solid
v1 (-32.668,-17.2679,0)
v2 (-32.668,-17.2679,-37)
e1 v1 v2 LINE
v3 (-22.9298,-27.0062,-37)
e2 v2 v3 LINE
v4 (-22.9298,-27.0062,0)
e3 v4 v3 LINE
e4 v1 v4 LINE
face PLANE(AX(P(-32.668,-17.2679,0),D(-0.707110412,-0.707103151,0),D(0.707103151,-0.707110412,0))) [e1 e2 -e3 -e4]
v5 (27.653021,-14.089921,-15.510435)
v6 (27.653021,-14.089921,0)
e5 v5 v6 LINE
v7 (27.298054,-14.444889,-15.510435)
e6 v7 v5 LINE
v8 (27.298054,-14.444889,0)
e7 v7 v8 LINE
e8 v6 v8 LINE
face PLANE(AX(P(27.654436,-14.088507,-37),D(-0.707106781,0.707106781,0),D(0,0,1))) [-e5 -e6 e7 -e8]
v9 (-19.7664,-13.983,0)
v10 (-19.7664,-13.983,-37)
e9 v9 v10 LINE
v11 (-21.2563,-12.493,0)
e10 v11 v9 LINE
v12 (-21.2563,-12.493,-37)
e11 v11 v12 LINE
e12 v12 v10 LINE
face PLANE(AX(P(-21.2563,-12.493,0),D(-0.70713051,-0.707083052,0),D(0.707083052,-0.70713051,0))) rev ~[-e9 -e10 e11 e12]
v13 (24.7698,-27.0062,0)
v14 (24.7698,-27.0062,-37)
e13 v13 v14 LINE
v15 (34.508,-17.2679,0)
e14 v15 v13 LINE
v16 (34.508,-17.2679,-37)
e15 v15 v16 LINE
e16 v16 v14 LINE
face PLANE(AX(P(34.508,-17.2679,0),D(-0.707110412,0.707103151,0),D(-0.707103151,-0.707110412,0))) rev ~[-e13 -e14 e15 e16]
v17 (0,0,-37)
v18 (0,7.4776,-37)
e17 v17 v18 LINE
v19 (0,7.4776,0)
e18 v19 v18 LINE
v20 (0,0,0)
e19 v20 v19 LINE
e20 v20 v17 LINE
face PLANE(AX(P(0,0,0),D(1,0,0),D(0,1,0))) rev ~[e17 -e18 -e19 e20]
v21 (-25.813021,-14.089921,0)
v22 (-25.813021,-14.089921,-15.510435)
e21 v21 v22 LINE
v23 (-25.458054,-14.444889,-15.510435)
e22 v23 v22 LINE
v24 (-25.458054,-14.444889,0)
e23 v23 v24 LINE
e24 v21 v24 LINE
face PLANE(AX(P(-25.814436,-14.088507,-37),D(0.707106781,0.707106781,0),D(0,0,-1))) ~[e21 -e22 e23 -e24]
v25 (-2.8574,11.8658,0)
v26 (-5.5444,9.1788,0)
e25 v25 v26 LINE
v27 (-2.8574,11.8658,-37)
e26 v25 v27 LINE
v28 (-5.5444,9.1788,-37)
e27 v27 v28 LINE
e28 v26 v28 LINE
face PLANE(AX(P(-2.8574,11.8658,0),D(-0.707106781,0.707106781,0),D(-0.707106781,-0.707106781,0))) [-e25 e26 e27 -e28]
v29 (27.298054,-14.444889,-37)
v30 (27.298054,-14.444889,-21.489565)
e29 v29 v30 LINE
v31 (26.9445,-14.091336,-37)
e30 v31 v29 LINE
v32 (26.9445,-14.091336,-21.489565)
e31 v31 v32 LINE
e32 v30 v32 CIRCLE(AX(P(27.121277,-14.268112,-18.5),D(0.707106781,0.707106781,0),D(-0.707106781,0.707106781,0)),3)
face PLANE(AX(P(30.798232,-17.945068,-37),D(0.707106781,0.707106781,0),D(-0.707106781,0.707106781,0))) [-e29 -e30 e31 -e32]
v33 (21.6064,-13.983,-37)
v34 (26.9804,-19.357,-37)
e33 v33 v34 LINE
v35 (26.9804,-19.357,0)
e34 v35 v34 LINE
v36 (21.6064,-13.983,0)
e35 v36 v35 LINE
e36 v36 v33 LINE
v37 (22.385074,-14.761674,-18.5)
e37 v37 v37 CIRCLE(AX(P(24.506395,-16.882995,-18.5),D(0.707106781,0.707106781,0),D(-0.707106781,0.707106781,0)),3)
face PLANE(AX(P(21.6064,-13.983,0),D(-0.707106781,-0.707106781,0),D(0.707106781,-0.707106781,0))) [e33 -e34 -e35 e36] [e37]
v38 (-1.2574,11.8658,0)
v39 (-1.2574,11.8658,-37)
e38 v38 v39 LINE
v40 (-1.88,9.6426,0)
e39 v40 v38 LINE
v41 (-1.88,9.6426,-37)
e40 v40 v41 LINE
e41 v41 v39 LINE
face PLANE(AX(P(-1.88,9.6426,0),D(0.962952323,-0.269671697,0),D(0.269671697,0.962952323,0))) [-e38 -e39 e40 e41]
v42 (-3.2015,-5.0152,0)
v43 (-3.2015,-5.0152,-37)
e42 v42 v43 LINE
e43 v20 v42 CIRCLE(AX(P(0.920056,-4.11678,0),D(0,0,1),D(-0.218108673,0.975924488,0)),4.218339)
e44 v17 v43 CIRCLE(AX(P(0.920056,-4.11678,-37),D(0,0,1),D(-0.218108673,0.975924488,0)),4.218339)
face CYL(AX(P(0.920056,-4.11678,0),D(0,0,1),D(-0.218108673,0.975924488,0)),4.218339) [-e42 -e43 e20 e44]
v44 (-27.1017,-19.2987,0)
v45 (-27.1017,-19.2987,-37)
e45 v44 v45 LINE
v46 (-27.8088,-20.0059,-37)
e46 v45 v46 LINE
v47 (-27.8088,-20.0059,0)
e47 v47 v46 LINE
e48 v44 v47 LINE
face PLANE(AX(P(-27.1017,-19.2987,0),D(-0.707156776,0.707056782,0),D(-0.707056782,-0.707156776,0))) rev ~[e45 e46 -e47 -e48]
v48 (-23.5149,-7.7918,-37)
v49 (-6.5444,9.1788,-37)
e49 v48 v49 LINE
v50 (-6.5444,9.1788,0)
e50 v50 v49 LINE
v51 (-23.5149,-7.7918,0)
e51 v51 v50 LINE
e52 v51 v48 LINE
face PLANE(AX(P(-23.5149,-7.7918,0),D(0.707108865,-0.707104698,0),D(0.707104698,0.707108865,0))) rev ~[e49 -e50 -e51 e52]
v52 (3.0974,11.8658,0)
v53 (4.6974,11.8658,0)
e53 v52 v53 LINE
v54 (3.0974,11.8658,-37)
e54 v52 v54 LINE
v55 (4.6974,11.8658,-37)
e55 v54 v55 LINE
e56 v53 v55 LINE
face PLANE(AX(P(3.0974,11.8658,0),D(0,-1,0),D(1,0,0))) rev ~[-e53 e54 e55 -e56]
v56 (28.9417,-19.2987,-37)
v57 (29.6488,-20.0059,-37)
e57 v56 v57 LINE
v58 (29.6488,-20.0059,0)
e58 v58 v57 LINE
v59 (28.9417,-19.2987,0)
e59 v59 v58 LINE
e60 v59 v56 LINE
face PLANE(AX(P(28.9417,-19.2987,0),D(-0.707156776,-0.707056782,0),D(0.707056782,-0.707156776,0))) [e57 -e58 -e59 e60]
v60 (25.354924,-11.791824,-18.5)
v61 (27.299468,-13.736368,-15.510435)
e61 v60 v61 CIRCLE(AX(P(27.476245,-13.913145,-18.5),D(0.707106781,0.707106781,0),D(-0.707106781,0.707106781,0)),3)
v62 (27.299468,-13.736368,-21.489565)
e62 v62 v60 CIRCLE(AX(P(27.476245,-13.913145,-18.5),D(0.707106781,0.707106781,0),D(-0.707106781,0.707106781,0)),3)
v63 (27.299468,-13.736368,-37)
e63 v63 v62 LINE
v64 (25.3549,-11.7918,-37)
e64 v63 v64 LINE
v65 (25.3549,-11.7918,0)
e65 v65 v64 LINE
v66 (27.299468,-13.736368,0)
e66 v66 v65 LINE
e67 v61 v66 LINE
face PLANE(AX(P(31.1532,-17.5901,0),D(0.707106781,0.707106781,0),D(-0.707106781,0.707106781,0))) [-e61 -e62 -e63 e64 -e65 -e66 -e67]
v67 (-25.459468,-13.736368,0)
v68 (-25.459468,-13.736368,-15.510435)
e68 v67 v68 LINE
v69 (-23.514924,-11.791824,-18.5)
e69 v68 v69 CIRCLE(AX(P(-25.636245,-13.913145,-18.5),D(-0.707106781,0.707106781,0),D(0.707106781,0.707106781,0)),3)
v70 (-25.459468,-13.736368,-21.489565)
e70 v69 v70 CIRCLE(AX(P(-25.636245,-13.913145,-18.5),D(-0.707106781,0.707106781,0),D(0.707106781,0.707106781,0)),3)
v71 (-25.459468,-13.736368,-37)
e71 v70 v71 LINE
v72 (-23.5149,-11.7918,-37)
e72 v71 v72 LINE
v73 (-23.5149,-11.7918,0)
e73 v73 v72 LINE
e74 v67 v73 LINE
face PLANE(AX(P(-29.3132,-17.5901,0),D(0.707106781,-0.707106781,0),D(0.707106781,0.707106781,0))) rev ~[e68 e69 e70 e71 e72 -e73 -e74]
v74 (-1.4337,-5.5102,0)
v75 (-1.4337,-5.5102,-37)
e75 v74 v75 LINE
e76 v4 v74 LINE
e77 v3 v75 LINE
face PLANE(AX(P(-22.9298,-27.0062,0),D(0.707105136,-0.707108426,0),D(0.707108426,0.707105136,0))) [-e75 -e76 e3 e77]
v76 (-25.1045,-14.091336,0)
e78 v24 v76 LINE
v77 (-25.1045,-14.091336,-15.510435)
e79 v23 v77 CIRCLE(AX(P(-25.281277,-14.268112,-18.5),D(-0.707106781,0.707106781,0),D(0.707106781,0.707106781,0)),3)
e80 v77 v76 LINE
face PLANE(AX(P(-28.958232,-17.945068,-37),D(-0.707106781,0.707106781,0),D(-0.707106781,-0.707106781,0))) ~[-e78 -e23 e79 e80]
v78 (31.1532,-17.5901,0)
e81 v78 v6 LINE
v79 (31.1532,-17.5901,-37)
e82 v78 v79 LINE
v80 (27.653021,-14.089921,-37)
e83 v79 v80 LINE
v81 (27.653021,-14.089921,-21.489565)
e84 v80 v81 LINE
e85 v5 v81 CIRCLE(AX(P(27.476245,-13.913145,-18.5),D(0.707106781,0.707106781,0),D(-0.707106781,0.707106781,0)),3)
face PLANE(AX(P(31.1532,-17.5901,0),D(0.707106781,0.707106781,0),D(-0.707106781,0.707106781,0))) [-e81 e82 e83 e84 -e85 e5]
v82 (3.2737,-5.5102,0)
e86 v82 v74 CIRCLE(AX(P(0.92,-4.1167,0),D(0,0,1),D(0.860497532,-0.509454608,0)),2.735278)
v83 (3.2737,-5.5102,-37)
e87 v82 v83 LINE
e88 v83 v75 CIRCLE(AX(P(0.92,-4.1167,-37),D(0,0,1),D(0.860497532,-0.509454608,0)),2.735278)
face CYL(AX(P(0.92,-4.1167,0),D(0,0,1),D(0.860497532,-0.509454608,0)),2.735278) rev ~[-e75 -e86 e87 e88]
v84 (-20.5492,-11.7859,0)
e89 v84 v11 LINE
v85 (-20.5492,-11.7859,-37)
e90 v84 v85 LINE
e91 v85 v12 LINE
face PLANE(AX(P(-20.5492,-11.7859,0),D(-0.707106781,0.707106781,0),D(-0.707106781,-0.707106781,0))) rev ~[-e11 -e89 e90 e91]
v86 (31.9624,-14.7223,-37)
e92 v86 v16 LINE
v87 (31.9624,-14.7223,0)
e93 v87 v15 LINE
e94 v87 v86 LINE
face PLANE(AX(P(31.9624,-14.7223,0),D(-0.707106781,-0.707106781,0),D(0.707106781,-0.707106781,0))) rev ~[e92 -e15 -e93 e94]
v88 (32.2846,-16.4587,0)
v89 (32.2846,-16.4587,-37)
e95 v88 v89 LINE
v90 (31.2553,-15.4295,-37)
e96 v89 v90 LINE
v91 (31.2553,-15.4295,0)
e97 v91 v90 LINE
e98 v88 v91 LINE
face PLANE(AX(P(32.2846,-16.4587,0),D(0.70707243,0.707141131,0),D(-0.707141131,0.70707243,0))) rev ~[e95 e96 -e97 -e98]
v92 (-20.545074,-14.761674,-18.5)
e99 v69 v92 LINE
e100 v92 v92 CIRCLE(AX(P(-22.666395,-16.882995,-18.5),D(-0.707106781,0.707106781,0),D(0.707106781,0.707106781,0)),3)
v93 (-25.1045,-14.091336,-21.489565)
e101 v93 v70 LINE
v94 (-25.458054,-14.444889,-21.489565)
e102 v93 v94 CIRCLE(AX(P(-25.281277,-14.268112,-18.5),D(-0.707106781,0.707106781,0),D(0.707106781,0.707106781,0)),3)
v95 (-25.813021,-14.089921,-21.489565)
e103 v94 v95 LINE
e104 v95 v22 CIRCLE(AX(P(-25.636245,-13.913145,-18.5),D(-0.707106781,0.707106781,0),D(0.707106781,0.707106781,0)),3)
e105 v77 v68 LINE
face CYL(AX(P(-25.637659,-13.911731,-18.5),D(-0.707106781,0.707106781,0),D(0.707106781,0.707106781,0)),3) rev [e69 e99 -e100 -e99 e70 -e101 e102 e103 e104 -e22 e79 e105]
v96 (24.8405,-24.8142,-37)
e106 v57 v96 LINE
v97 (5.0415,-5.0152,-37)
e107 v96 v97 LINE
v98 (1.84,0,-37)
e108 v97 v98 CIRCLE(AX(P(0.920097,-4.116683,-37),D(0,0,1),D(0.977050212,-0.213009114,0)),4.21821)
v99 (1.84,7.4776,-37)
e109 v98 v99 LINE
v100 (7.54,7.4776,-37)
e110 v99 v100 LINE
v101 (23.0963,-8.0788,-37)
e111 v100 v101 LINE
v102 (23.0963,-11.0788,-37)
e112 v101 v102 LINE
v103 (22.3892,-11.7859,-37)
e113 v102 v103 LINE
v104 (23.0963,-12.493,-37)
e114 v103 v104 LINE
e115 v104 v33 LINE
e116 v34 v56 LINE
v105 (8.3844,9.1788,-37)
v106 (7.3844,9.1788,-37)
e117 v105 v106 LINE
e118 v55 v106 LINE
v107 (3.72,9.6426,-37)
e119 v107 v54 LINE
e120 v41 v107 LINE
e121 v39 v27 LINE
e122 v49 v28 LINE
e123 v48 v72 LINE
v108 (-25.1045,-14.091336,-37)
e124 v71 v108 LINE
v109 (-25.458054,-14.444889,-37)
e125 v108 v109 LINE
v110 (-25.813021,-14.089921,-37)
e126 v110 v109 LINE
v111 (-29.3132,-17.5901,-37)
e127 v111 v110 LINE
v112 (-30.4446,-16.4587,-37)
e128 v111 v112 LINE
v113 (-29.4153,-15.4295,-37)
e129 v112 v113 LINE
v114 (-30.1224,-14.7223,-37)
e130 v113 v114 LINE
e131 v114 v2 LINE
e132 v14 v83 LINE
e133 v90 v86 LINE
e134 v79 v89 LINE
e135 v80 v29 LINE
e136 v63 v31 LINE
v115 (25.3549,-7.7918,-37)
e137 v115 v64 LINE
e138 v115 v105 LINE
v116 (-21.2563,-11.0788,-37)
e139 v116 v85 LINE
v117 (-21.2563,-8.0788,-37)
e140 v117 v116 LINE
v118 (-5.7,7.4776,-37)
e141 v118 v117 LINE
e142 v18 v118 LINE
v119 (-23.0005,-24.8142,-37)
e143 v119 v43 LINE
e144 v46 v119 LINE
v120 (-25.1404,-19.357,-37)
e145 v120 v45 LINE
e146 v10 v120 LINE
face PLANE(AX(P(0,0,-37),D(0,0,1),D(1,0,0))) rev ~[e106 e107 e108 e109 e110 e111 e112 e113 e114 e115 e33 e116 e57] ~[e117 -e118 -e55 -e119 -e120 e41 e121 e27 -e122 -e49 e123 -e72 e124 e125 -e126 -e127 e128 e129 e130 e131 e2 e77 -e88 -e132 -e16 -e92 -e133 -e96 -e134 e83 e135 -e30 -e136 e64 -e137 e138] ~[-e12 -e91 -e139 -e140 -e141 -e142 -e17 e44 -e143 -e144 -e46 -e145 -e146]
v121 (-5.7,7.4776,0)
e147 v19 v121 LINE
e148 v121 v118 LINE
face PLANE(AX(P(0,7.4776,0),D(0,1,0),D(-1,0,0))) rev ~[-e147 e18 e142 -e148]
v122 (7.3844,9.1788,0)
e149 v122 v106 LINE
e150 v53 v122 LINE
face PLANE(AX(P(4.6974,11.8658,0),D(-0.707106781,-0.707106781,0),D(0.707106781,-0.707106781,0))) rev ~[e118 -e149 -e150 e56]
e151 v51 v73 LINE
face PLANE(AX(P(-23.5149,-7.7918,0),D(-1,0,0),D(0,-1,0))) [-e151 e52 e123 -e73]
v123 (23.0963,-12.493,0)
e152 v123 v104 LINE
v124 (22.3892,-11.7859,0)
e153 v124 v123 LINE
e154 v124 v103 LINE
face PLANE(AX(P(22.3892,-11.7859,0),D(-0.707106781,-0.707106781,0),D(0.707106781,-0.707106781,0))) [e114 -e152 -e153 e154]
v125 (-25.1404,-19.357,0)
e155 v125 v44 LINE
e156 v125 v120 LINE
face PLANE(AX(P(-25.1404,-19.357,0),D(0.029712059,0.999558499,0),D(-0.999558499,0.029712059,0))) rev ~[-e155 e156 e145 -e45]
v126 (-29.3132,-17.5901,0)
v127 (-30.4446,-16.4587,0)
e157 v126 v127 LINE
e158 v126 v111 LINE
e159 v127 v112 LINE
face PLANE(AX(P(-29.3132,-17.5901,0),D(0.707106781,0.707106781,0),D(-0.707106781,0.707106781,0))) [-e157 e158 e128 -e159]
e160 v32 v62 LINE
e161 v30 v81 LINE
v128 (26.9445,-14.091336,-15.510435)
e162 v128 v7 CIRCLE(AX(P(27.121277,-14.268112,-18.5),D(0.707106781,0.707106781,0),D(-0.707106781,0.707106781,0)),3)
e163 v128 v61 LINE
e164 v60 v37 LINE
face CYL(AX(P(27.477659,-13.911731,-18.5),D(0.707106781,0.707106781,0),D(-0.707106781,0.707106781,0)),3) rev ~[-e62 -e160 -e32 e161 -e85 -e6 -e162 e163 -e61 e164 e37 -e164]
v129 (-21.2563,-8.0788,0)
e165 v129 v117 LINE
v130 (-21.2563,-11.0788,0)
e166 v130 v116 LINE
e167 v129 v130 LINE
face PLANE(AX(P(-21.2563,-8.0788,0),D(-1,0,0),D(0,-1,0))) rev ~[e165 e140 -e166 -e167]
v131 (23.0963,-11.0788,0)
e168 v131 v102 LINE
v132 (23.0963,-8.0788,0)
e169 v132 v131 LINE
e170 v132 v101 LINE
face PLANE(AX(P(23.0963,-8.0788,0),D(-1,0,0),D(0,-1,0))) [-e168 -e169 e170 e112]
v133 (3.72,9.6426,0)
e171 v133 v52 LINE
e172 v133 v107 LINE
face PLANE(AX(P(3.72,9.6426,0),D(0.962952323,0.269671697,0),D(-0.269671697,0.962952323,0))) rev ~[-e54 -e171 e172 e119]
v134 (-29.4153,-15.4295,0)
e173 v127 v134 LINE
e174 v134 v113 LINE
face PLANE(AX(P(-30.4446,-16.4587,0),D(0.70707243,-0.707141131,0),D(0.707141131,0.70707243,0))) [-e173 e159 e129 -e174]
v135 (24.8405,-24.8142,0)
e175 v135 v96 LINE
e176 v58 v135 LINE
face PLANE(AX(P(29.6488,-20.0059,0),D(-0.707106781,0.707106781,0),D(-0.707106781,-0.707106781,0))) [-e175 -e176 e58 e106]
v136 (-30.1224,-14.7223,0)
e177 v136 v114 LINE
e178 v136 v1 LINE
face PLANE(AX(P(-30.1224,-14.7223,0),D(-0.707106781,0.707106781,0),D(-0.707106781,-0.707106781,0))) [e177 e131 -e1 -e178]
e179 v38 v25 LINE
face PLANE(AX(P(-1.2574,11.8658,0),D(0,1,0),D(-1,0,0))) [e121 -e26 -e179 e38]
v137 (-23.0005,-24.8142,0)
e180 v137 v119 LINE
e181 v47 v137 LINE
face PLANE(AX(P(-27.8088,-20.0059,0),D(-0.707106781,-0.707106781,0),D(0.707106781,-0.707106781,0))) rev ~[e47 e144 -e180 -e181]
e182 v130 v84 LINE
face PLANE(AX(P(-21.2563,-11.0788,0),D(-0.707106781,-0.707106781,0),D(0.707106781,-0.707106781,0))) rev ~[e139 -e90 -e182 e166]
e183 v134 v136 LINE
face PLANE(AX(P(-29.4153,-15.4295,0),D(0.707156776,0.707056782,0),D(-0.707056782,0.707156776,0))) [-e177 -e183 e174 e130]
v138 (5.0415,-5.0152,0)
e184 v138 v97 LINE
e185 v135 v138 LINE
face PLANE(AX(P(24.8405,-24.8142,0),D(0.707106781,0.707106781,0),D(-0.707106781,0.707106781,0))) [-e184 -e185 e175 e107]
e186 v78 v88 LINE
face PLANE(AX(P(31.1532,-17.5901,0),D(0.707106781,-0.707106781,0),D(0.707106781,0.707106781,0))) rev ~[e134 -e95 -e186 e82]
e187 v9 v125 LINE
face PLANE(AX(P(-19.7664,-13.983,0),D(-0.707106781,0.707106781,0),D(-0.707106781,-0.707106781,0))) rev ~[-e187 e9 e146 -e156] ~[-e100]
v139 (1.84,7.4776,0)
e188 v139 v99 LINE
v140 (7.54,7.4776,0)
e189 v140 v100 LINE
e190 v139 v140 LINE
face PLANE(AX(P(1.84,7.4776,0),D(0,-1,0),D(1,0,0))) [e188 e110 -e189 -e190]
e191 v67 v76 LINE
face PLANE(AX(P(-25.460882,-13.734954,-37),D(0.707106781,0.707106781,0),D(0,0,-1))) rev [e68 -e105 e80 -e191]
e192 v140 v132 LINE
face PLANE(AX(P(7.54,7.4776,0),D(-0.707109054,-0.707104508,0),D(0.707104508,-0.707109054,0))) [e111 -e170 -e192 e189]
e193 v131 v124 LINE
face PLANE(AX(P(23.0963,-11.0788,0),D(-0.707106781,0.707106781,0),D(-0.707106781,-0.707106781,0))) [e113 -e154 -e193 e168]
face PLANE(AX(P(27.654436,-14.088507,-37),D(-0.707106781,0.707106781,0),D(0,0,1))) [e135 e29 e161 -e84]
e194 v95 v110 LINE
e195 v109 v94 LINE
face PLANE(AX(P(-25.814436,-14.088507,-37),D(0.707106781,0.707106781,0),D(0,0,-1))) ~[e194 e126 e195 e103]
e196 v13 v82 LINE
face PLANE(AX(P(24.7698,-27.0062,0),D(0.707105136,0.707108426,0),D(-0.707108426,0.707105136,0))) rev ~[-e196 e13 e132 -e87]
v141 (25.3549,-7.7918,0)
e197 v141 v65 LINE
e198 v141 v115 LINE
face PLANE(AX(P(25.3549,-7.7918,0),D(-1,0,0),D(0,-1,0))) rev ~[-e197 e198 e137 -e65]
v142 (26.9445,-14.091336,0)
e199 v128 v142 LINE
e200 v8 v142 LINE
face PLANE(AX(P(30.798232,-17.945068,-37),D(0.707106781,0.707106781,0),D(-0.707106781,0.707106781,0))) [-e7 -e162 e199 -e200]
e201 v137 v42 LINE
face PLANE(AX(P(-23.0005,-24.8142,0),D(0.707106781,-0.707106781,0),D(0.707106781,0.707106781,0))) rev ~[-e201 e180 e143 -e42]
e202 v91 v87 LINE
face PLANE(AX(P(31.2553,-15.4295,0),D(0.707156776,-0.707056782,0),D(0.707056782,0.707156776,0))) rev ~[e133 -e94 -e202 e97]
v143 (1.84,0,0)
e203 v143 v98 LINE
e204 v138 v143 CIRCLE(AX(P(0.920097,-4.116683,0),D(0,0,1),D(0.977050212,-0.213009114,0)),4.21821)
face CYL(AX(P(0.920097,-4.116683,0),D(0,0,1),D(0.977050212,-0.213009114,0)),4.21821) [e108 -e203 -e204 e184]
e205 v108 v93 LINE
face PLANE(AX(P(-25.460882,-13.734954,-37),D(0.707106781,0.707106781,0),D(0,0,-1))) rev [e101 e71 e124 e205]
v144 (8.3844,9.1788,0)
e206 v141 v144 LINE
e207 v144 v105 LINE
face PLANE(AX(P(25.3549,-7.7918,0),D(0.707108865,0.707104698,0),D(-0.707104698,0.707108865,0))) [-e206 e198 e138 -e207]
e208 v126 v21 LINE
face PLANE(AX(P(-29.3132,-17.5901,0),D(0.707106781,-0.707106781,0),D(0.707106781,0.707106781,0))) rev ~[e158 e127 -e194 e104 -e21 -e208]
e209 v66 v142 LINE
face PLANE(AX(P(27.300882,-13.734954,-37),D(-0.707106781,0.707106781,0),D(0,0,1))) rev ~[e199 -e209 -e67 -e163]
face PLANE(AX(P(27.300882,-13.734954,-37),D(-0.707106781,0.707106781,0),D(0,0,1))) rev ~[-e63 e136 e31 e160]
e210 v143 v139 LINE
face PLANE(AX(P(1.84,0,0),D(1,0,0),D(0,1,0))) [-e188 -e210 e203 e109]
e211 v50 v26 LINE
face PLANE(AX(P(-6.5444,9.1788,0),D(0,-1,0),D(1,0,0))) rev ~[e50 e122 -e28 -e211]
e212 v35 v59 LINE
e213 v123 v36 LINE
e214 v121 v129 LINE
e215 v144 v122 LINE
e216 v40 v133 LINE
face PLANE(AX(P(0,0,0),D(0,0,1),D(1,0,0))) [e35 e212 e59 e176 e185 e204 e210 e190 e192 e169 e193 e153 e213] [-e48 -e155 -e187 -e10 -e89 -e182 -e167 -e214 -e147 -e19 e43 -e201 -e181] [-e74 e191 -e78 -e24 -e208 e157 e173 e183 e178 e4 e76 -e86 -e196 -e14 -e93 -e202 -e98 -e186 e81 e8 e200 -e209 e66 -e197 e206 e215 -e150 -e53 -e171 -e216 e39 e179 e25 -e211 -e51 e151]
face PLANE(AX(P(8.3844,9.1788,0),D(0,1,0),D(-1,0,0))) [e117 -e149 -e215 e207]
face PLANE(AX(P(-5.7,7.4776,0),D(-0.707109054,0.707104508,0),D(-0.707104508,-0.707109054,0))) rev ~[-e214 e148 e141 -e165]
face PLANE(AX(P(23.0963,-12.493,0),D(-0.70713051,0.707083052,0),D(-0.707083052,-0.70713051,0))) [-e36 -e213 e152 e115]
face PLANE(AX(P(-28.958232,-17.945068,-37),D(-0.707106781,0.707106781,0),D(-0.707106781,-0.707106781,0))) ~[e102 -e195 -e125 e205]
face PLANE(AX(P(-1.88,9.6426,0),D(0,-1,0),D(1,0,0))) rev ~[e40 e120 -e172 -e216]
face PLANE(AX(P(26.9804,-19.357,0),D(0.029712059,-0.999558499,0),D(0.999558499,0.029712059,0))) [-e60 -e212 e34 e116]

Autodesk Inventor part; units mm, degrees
ref_plane "YZ Plane" through (0, 0, 0) normal (1, 0, 0) x (0, 1, 0)
sketch "Sketch1" plane through (0, 0, 0) normal (0, 0, 1) x (1, 0, 0)
  line L0 (0, 0) -> (0, 7.4776)
  line L1 (0, 7.4776) -> (-5.7, 7.4776)
  line L2 (-5.7, 7.4776) -> (-21.2563, -8.0788)
  line L3 (-21.2563, -8.0788) -> (-21.2563, -11.0788)
  line L4 (-21.2563, -11.0788) -> (-20.5492, -11.7859)
  line L5 (-20.5492, -11.7859) -> (-21.2563, -12.493)
  line L6 (-21.2563, -12.493) -> (-19.7664, -13.983)
  line L7 (-19.7664, -13.983) -> (-25.1404, -19.357)
  line L8 (-25.1404, -19.357) -> (-27.1017, -19.2987)
  line L9 (-27.1017, -19.2987) -> (-27.8088, -20.0059)
  line L10 (-27.8088, -20.0059) -> (-23.0005, -24.8142)
  line L11 (-23.0005, -24.8142) -> (-3.2015, -5.0152)
  line L12 (-1.88, 9.6426) -> (-1.2574, 11.8658)
  line L13 (-1.2574, 11.8658) -> (-2.8574, 11.8658)
  line L14 (-2.8574, 11.8658) -> (-5.5444, 9.1788)
  line L15 (-23.5149, -7.7918) -> (-6.5444, 9.1788)
  line L16 (-6.5444, 9.1788) -> (-5.5444, 9.1788)
  line L17 (-23.5149, -7.7918) -> (-23.5149, -11.7918)
  line L18 (-29.3132, -17.5901) -> (-23.5149, -11.7918)
  line L19 (-29.3132, -17.5901) -> (-30.4446, -16.4587)
  line L20 (-30.4446, -16.4587) -> (-29.4153, -15.4295)
  line L21 (-29.4153, -15.4295) -> (-30.1224, -14.7223)
  line L22 (-30.1224, -14.7223) -> (-32.668, -17.2679)
  line L23 (-32.668, -17.2679) -> (-22.9298, -27.0062)
  line L24 (-22.9298, -27.0062) -> (-1.4337, -5.5102)
  line L25 (0.92, 16.812) -> (0.92, -19.9546) construction
  line L26 (1.84, 0) -> (1.84, 7.4776)
  line L27 (1.84, 7.4776) -> (7.54, 7.4776)
  line L28 (7.54, 7.4776) -> (23.0963, -8.0788)
  line L29 (23.0963, -8.0788) -> (23.0963, -11.0788)
  line L30 (23.0963, -11.0788) -> (22.3892, -11.7859)
  line L31 (22.3892, -11.7859) -> (23.0963, -12.493)
  line L32 (23.0963, -12.493) -> (21.6064, -13.983)
  line L33 (21.6064, -13.983) -> (26.9804, -19.357)
  line L34 (26.9804, -19.357) -> (28.9417, -19.2987)
  line L35 (28.9417, -19.2987) -> (29.6488, -20.0059)
  line L36 (29.6488, -20.0059) -> (24.8405, -24.8142)
  line L37 (24.8405, -24.8142) -> (5.0415, -5.0152)
  line L38 (3.72, 9.6426) -> (3.0974, 11.8658)
  line L39 (3.0974, 11.8658) -> (4.6974, 11.8658)
  line L40 (4.6974, 11.8658) -> (7.3844, 9.1788)
  line L41 (25.3549, -7.7918) -> (8.3844, 9.1788)
  line L42 (8.3844, 9.1788) -> (7.3844, 9.1788)
  line L43 (25.3549, -7.7918) -> (25.3549, -11.7918)
  line L44 (31.1532, -17.5901) -> (25.3549, -11.7918)
  line L45 (31.1532, -17.5901) -> (32.2846, -16.4587)
  line L46 (32.2846, -16.4587) -> (31.2553, -15.4295)
  line L47 (31.2553, -15.4295) -> (31.9624, -14.7223)
  line L48 (31.9624, -14.7223) -> (34.508, -17.2679)
  line L49 (34.508, -17.2679) -> (24.7698, -27.0062)
  line L50 (24.7698, -27.0062) -> (3.2737, -5.5102)
  line L51 (-1.88, 9.6426) -> (3.72, 9.6426)
  arc A0 (3.2737, -5.5102) -> (-1.4337, -5.5102) centre (0.92, -4.1167) ccw
  arc A1 (5.0415, -5.0152) -> (1.84, 0) centre (0.92, -4.1167) ccw
  arc A2 (0, 0) -> (-3.2015, -5.0152) centre (0.92, -4.1167) ccw
  point P0 (-22.4534, -16.67)
  dimension "d1" = 5.7
  dimension "d2" = 135
  dimension "d3" = 22
  dimension "d13" = 3
  dimension "d14" = 28
  dimension "d22" = 1.6
  dimension "d23" = 3.8
  dimension "d24" = 1
  dimension "d25" = 24
  dimension "d30" = 4
  dimension "d34" = 3.6
  dimension "d36" = 1.5
  dimension "d38" = 1.6
  dimension "d47" = 1.84
  dimension "d55" = 8.2
  dimension "d56" = 1.6
  dimension "d57" = 1
  dimension "d59" = 7.6
  dimension "d61" = 1
  dimension "d62" = 6.8
  dimension "d72" = 30.4
  dimension "d74" = 13.772
  dimension "d75" = 4.2
  dimension "d76" = 5.6
  dimension "d77" = 1.8
  dimension "d78" = 1
  dimension "d80" = 90
  dimension "d89" = 7.4776
extrude "Extrusion1" add sketch "Sketch1" against normal blind 37
ref_plane "Work Plane2" through (31.1532, -17.5901, -37) normal (0.7071, 0.7071, 0) x (-0.7071, 0.7071, 0)
sketch "Sketch3" plane through (31.1532, -17.5901, -37) normal (0.7071, 0.7071, 0) x (-0.7071, 0.7071, 0)
  circle A0 centre (5.2, 18.5) radius 3
  line L0 (0, 37) -> (8.2, 37) projected
  line L1 (8.2, 37) -> (8.2, 0) projected
  point P0 (34.4667, 37)
  dimension "d65" = 18.5
  dimension "d67" = 6
extrude "Extrusion2" cut sketch "Sketch3" against normal blind 6
thread "Thread1" size "M6x1" class "6H" standard "ANSI Metric M Profile" full length
ref_plane "Work Plane4" through (0.92, 19.6401, -37) normal (-1, 0, 0) x (0, 0, -1)
mirror "Mirror2" about plane through (0.92, 19.6401, -37) normal (-1, 0, 0) of "Extrusion2"
thread "Thread2" size "M6x1" class "6H" standard "ISO Metric profile" full length
sketch "Sketch4" plane through (31.1532, -17.5901, -37) normal (0.7071, 0.7071, 0) x (-0.7071, 0.7071, 0)
  line L0 (4.95, 0) -> (4.95, 37)
  line L1 (27.3556, 0) -> (-0.6444, 0) projected
  line L2 (0, 37) -> (8.2, 37) projected
  line L3 (5.45, 0) -> (5.45, 37)
  line L4 (8.2, 37) -> (8.2, 18.5) projected
  line L5 (5.45, 37) -> (4.95, 37)
  line L6 (5.45, 0) -> (4.95, 0)
  point P0 (34.4667, 37)
  point P1 (4.95, 0)
  dimension "d84" = 2.75
  dimension "d85" = 0.5
extrude "Extrusion3" cut sketch "Sketch4" against normal blind 0.5
mirror "Mirror3" about plane through (0.92, 19.6401, -37) normal (-1, 0, 0) of "Extrusion3"
properties part number "ESCUADRA" material "Aluminum"
